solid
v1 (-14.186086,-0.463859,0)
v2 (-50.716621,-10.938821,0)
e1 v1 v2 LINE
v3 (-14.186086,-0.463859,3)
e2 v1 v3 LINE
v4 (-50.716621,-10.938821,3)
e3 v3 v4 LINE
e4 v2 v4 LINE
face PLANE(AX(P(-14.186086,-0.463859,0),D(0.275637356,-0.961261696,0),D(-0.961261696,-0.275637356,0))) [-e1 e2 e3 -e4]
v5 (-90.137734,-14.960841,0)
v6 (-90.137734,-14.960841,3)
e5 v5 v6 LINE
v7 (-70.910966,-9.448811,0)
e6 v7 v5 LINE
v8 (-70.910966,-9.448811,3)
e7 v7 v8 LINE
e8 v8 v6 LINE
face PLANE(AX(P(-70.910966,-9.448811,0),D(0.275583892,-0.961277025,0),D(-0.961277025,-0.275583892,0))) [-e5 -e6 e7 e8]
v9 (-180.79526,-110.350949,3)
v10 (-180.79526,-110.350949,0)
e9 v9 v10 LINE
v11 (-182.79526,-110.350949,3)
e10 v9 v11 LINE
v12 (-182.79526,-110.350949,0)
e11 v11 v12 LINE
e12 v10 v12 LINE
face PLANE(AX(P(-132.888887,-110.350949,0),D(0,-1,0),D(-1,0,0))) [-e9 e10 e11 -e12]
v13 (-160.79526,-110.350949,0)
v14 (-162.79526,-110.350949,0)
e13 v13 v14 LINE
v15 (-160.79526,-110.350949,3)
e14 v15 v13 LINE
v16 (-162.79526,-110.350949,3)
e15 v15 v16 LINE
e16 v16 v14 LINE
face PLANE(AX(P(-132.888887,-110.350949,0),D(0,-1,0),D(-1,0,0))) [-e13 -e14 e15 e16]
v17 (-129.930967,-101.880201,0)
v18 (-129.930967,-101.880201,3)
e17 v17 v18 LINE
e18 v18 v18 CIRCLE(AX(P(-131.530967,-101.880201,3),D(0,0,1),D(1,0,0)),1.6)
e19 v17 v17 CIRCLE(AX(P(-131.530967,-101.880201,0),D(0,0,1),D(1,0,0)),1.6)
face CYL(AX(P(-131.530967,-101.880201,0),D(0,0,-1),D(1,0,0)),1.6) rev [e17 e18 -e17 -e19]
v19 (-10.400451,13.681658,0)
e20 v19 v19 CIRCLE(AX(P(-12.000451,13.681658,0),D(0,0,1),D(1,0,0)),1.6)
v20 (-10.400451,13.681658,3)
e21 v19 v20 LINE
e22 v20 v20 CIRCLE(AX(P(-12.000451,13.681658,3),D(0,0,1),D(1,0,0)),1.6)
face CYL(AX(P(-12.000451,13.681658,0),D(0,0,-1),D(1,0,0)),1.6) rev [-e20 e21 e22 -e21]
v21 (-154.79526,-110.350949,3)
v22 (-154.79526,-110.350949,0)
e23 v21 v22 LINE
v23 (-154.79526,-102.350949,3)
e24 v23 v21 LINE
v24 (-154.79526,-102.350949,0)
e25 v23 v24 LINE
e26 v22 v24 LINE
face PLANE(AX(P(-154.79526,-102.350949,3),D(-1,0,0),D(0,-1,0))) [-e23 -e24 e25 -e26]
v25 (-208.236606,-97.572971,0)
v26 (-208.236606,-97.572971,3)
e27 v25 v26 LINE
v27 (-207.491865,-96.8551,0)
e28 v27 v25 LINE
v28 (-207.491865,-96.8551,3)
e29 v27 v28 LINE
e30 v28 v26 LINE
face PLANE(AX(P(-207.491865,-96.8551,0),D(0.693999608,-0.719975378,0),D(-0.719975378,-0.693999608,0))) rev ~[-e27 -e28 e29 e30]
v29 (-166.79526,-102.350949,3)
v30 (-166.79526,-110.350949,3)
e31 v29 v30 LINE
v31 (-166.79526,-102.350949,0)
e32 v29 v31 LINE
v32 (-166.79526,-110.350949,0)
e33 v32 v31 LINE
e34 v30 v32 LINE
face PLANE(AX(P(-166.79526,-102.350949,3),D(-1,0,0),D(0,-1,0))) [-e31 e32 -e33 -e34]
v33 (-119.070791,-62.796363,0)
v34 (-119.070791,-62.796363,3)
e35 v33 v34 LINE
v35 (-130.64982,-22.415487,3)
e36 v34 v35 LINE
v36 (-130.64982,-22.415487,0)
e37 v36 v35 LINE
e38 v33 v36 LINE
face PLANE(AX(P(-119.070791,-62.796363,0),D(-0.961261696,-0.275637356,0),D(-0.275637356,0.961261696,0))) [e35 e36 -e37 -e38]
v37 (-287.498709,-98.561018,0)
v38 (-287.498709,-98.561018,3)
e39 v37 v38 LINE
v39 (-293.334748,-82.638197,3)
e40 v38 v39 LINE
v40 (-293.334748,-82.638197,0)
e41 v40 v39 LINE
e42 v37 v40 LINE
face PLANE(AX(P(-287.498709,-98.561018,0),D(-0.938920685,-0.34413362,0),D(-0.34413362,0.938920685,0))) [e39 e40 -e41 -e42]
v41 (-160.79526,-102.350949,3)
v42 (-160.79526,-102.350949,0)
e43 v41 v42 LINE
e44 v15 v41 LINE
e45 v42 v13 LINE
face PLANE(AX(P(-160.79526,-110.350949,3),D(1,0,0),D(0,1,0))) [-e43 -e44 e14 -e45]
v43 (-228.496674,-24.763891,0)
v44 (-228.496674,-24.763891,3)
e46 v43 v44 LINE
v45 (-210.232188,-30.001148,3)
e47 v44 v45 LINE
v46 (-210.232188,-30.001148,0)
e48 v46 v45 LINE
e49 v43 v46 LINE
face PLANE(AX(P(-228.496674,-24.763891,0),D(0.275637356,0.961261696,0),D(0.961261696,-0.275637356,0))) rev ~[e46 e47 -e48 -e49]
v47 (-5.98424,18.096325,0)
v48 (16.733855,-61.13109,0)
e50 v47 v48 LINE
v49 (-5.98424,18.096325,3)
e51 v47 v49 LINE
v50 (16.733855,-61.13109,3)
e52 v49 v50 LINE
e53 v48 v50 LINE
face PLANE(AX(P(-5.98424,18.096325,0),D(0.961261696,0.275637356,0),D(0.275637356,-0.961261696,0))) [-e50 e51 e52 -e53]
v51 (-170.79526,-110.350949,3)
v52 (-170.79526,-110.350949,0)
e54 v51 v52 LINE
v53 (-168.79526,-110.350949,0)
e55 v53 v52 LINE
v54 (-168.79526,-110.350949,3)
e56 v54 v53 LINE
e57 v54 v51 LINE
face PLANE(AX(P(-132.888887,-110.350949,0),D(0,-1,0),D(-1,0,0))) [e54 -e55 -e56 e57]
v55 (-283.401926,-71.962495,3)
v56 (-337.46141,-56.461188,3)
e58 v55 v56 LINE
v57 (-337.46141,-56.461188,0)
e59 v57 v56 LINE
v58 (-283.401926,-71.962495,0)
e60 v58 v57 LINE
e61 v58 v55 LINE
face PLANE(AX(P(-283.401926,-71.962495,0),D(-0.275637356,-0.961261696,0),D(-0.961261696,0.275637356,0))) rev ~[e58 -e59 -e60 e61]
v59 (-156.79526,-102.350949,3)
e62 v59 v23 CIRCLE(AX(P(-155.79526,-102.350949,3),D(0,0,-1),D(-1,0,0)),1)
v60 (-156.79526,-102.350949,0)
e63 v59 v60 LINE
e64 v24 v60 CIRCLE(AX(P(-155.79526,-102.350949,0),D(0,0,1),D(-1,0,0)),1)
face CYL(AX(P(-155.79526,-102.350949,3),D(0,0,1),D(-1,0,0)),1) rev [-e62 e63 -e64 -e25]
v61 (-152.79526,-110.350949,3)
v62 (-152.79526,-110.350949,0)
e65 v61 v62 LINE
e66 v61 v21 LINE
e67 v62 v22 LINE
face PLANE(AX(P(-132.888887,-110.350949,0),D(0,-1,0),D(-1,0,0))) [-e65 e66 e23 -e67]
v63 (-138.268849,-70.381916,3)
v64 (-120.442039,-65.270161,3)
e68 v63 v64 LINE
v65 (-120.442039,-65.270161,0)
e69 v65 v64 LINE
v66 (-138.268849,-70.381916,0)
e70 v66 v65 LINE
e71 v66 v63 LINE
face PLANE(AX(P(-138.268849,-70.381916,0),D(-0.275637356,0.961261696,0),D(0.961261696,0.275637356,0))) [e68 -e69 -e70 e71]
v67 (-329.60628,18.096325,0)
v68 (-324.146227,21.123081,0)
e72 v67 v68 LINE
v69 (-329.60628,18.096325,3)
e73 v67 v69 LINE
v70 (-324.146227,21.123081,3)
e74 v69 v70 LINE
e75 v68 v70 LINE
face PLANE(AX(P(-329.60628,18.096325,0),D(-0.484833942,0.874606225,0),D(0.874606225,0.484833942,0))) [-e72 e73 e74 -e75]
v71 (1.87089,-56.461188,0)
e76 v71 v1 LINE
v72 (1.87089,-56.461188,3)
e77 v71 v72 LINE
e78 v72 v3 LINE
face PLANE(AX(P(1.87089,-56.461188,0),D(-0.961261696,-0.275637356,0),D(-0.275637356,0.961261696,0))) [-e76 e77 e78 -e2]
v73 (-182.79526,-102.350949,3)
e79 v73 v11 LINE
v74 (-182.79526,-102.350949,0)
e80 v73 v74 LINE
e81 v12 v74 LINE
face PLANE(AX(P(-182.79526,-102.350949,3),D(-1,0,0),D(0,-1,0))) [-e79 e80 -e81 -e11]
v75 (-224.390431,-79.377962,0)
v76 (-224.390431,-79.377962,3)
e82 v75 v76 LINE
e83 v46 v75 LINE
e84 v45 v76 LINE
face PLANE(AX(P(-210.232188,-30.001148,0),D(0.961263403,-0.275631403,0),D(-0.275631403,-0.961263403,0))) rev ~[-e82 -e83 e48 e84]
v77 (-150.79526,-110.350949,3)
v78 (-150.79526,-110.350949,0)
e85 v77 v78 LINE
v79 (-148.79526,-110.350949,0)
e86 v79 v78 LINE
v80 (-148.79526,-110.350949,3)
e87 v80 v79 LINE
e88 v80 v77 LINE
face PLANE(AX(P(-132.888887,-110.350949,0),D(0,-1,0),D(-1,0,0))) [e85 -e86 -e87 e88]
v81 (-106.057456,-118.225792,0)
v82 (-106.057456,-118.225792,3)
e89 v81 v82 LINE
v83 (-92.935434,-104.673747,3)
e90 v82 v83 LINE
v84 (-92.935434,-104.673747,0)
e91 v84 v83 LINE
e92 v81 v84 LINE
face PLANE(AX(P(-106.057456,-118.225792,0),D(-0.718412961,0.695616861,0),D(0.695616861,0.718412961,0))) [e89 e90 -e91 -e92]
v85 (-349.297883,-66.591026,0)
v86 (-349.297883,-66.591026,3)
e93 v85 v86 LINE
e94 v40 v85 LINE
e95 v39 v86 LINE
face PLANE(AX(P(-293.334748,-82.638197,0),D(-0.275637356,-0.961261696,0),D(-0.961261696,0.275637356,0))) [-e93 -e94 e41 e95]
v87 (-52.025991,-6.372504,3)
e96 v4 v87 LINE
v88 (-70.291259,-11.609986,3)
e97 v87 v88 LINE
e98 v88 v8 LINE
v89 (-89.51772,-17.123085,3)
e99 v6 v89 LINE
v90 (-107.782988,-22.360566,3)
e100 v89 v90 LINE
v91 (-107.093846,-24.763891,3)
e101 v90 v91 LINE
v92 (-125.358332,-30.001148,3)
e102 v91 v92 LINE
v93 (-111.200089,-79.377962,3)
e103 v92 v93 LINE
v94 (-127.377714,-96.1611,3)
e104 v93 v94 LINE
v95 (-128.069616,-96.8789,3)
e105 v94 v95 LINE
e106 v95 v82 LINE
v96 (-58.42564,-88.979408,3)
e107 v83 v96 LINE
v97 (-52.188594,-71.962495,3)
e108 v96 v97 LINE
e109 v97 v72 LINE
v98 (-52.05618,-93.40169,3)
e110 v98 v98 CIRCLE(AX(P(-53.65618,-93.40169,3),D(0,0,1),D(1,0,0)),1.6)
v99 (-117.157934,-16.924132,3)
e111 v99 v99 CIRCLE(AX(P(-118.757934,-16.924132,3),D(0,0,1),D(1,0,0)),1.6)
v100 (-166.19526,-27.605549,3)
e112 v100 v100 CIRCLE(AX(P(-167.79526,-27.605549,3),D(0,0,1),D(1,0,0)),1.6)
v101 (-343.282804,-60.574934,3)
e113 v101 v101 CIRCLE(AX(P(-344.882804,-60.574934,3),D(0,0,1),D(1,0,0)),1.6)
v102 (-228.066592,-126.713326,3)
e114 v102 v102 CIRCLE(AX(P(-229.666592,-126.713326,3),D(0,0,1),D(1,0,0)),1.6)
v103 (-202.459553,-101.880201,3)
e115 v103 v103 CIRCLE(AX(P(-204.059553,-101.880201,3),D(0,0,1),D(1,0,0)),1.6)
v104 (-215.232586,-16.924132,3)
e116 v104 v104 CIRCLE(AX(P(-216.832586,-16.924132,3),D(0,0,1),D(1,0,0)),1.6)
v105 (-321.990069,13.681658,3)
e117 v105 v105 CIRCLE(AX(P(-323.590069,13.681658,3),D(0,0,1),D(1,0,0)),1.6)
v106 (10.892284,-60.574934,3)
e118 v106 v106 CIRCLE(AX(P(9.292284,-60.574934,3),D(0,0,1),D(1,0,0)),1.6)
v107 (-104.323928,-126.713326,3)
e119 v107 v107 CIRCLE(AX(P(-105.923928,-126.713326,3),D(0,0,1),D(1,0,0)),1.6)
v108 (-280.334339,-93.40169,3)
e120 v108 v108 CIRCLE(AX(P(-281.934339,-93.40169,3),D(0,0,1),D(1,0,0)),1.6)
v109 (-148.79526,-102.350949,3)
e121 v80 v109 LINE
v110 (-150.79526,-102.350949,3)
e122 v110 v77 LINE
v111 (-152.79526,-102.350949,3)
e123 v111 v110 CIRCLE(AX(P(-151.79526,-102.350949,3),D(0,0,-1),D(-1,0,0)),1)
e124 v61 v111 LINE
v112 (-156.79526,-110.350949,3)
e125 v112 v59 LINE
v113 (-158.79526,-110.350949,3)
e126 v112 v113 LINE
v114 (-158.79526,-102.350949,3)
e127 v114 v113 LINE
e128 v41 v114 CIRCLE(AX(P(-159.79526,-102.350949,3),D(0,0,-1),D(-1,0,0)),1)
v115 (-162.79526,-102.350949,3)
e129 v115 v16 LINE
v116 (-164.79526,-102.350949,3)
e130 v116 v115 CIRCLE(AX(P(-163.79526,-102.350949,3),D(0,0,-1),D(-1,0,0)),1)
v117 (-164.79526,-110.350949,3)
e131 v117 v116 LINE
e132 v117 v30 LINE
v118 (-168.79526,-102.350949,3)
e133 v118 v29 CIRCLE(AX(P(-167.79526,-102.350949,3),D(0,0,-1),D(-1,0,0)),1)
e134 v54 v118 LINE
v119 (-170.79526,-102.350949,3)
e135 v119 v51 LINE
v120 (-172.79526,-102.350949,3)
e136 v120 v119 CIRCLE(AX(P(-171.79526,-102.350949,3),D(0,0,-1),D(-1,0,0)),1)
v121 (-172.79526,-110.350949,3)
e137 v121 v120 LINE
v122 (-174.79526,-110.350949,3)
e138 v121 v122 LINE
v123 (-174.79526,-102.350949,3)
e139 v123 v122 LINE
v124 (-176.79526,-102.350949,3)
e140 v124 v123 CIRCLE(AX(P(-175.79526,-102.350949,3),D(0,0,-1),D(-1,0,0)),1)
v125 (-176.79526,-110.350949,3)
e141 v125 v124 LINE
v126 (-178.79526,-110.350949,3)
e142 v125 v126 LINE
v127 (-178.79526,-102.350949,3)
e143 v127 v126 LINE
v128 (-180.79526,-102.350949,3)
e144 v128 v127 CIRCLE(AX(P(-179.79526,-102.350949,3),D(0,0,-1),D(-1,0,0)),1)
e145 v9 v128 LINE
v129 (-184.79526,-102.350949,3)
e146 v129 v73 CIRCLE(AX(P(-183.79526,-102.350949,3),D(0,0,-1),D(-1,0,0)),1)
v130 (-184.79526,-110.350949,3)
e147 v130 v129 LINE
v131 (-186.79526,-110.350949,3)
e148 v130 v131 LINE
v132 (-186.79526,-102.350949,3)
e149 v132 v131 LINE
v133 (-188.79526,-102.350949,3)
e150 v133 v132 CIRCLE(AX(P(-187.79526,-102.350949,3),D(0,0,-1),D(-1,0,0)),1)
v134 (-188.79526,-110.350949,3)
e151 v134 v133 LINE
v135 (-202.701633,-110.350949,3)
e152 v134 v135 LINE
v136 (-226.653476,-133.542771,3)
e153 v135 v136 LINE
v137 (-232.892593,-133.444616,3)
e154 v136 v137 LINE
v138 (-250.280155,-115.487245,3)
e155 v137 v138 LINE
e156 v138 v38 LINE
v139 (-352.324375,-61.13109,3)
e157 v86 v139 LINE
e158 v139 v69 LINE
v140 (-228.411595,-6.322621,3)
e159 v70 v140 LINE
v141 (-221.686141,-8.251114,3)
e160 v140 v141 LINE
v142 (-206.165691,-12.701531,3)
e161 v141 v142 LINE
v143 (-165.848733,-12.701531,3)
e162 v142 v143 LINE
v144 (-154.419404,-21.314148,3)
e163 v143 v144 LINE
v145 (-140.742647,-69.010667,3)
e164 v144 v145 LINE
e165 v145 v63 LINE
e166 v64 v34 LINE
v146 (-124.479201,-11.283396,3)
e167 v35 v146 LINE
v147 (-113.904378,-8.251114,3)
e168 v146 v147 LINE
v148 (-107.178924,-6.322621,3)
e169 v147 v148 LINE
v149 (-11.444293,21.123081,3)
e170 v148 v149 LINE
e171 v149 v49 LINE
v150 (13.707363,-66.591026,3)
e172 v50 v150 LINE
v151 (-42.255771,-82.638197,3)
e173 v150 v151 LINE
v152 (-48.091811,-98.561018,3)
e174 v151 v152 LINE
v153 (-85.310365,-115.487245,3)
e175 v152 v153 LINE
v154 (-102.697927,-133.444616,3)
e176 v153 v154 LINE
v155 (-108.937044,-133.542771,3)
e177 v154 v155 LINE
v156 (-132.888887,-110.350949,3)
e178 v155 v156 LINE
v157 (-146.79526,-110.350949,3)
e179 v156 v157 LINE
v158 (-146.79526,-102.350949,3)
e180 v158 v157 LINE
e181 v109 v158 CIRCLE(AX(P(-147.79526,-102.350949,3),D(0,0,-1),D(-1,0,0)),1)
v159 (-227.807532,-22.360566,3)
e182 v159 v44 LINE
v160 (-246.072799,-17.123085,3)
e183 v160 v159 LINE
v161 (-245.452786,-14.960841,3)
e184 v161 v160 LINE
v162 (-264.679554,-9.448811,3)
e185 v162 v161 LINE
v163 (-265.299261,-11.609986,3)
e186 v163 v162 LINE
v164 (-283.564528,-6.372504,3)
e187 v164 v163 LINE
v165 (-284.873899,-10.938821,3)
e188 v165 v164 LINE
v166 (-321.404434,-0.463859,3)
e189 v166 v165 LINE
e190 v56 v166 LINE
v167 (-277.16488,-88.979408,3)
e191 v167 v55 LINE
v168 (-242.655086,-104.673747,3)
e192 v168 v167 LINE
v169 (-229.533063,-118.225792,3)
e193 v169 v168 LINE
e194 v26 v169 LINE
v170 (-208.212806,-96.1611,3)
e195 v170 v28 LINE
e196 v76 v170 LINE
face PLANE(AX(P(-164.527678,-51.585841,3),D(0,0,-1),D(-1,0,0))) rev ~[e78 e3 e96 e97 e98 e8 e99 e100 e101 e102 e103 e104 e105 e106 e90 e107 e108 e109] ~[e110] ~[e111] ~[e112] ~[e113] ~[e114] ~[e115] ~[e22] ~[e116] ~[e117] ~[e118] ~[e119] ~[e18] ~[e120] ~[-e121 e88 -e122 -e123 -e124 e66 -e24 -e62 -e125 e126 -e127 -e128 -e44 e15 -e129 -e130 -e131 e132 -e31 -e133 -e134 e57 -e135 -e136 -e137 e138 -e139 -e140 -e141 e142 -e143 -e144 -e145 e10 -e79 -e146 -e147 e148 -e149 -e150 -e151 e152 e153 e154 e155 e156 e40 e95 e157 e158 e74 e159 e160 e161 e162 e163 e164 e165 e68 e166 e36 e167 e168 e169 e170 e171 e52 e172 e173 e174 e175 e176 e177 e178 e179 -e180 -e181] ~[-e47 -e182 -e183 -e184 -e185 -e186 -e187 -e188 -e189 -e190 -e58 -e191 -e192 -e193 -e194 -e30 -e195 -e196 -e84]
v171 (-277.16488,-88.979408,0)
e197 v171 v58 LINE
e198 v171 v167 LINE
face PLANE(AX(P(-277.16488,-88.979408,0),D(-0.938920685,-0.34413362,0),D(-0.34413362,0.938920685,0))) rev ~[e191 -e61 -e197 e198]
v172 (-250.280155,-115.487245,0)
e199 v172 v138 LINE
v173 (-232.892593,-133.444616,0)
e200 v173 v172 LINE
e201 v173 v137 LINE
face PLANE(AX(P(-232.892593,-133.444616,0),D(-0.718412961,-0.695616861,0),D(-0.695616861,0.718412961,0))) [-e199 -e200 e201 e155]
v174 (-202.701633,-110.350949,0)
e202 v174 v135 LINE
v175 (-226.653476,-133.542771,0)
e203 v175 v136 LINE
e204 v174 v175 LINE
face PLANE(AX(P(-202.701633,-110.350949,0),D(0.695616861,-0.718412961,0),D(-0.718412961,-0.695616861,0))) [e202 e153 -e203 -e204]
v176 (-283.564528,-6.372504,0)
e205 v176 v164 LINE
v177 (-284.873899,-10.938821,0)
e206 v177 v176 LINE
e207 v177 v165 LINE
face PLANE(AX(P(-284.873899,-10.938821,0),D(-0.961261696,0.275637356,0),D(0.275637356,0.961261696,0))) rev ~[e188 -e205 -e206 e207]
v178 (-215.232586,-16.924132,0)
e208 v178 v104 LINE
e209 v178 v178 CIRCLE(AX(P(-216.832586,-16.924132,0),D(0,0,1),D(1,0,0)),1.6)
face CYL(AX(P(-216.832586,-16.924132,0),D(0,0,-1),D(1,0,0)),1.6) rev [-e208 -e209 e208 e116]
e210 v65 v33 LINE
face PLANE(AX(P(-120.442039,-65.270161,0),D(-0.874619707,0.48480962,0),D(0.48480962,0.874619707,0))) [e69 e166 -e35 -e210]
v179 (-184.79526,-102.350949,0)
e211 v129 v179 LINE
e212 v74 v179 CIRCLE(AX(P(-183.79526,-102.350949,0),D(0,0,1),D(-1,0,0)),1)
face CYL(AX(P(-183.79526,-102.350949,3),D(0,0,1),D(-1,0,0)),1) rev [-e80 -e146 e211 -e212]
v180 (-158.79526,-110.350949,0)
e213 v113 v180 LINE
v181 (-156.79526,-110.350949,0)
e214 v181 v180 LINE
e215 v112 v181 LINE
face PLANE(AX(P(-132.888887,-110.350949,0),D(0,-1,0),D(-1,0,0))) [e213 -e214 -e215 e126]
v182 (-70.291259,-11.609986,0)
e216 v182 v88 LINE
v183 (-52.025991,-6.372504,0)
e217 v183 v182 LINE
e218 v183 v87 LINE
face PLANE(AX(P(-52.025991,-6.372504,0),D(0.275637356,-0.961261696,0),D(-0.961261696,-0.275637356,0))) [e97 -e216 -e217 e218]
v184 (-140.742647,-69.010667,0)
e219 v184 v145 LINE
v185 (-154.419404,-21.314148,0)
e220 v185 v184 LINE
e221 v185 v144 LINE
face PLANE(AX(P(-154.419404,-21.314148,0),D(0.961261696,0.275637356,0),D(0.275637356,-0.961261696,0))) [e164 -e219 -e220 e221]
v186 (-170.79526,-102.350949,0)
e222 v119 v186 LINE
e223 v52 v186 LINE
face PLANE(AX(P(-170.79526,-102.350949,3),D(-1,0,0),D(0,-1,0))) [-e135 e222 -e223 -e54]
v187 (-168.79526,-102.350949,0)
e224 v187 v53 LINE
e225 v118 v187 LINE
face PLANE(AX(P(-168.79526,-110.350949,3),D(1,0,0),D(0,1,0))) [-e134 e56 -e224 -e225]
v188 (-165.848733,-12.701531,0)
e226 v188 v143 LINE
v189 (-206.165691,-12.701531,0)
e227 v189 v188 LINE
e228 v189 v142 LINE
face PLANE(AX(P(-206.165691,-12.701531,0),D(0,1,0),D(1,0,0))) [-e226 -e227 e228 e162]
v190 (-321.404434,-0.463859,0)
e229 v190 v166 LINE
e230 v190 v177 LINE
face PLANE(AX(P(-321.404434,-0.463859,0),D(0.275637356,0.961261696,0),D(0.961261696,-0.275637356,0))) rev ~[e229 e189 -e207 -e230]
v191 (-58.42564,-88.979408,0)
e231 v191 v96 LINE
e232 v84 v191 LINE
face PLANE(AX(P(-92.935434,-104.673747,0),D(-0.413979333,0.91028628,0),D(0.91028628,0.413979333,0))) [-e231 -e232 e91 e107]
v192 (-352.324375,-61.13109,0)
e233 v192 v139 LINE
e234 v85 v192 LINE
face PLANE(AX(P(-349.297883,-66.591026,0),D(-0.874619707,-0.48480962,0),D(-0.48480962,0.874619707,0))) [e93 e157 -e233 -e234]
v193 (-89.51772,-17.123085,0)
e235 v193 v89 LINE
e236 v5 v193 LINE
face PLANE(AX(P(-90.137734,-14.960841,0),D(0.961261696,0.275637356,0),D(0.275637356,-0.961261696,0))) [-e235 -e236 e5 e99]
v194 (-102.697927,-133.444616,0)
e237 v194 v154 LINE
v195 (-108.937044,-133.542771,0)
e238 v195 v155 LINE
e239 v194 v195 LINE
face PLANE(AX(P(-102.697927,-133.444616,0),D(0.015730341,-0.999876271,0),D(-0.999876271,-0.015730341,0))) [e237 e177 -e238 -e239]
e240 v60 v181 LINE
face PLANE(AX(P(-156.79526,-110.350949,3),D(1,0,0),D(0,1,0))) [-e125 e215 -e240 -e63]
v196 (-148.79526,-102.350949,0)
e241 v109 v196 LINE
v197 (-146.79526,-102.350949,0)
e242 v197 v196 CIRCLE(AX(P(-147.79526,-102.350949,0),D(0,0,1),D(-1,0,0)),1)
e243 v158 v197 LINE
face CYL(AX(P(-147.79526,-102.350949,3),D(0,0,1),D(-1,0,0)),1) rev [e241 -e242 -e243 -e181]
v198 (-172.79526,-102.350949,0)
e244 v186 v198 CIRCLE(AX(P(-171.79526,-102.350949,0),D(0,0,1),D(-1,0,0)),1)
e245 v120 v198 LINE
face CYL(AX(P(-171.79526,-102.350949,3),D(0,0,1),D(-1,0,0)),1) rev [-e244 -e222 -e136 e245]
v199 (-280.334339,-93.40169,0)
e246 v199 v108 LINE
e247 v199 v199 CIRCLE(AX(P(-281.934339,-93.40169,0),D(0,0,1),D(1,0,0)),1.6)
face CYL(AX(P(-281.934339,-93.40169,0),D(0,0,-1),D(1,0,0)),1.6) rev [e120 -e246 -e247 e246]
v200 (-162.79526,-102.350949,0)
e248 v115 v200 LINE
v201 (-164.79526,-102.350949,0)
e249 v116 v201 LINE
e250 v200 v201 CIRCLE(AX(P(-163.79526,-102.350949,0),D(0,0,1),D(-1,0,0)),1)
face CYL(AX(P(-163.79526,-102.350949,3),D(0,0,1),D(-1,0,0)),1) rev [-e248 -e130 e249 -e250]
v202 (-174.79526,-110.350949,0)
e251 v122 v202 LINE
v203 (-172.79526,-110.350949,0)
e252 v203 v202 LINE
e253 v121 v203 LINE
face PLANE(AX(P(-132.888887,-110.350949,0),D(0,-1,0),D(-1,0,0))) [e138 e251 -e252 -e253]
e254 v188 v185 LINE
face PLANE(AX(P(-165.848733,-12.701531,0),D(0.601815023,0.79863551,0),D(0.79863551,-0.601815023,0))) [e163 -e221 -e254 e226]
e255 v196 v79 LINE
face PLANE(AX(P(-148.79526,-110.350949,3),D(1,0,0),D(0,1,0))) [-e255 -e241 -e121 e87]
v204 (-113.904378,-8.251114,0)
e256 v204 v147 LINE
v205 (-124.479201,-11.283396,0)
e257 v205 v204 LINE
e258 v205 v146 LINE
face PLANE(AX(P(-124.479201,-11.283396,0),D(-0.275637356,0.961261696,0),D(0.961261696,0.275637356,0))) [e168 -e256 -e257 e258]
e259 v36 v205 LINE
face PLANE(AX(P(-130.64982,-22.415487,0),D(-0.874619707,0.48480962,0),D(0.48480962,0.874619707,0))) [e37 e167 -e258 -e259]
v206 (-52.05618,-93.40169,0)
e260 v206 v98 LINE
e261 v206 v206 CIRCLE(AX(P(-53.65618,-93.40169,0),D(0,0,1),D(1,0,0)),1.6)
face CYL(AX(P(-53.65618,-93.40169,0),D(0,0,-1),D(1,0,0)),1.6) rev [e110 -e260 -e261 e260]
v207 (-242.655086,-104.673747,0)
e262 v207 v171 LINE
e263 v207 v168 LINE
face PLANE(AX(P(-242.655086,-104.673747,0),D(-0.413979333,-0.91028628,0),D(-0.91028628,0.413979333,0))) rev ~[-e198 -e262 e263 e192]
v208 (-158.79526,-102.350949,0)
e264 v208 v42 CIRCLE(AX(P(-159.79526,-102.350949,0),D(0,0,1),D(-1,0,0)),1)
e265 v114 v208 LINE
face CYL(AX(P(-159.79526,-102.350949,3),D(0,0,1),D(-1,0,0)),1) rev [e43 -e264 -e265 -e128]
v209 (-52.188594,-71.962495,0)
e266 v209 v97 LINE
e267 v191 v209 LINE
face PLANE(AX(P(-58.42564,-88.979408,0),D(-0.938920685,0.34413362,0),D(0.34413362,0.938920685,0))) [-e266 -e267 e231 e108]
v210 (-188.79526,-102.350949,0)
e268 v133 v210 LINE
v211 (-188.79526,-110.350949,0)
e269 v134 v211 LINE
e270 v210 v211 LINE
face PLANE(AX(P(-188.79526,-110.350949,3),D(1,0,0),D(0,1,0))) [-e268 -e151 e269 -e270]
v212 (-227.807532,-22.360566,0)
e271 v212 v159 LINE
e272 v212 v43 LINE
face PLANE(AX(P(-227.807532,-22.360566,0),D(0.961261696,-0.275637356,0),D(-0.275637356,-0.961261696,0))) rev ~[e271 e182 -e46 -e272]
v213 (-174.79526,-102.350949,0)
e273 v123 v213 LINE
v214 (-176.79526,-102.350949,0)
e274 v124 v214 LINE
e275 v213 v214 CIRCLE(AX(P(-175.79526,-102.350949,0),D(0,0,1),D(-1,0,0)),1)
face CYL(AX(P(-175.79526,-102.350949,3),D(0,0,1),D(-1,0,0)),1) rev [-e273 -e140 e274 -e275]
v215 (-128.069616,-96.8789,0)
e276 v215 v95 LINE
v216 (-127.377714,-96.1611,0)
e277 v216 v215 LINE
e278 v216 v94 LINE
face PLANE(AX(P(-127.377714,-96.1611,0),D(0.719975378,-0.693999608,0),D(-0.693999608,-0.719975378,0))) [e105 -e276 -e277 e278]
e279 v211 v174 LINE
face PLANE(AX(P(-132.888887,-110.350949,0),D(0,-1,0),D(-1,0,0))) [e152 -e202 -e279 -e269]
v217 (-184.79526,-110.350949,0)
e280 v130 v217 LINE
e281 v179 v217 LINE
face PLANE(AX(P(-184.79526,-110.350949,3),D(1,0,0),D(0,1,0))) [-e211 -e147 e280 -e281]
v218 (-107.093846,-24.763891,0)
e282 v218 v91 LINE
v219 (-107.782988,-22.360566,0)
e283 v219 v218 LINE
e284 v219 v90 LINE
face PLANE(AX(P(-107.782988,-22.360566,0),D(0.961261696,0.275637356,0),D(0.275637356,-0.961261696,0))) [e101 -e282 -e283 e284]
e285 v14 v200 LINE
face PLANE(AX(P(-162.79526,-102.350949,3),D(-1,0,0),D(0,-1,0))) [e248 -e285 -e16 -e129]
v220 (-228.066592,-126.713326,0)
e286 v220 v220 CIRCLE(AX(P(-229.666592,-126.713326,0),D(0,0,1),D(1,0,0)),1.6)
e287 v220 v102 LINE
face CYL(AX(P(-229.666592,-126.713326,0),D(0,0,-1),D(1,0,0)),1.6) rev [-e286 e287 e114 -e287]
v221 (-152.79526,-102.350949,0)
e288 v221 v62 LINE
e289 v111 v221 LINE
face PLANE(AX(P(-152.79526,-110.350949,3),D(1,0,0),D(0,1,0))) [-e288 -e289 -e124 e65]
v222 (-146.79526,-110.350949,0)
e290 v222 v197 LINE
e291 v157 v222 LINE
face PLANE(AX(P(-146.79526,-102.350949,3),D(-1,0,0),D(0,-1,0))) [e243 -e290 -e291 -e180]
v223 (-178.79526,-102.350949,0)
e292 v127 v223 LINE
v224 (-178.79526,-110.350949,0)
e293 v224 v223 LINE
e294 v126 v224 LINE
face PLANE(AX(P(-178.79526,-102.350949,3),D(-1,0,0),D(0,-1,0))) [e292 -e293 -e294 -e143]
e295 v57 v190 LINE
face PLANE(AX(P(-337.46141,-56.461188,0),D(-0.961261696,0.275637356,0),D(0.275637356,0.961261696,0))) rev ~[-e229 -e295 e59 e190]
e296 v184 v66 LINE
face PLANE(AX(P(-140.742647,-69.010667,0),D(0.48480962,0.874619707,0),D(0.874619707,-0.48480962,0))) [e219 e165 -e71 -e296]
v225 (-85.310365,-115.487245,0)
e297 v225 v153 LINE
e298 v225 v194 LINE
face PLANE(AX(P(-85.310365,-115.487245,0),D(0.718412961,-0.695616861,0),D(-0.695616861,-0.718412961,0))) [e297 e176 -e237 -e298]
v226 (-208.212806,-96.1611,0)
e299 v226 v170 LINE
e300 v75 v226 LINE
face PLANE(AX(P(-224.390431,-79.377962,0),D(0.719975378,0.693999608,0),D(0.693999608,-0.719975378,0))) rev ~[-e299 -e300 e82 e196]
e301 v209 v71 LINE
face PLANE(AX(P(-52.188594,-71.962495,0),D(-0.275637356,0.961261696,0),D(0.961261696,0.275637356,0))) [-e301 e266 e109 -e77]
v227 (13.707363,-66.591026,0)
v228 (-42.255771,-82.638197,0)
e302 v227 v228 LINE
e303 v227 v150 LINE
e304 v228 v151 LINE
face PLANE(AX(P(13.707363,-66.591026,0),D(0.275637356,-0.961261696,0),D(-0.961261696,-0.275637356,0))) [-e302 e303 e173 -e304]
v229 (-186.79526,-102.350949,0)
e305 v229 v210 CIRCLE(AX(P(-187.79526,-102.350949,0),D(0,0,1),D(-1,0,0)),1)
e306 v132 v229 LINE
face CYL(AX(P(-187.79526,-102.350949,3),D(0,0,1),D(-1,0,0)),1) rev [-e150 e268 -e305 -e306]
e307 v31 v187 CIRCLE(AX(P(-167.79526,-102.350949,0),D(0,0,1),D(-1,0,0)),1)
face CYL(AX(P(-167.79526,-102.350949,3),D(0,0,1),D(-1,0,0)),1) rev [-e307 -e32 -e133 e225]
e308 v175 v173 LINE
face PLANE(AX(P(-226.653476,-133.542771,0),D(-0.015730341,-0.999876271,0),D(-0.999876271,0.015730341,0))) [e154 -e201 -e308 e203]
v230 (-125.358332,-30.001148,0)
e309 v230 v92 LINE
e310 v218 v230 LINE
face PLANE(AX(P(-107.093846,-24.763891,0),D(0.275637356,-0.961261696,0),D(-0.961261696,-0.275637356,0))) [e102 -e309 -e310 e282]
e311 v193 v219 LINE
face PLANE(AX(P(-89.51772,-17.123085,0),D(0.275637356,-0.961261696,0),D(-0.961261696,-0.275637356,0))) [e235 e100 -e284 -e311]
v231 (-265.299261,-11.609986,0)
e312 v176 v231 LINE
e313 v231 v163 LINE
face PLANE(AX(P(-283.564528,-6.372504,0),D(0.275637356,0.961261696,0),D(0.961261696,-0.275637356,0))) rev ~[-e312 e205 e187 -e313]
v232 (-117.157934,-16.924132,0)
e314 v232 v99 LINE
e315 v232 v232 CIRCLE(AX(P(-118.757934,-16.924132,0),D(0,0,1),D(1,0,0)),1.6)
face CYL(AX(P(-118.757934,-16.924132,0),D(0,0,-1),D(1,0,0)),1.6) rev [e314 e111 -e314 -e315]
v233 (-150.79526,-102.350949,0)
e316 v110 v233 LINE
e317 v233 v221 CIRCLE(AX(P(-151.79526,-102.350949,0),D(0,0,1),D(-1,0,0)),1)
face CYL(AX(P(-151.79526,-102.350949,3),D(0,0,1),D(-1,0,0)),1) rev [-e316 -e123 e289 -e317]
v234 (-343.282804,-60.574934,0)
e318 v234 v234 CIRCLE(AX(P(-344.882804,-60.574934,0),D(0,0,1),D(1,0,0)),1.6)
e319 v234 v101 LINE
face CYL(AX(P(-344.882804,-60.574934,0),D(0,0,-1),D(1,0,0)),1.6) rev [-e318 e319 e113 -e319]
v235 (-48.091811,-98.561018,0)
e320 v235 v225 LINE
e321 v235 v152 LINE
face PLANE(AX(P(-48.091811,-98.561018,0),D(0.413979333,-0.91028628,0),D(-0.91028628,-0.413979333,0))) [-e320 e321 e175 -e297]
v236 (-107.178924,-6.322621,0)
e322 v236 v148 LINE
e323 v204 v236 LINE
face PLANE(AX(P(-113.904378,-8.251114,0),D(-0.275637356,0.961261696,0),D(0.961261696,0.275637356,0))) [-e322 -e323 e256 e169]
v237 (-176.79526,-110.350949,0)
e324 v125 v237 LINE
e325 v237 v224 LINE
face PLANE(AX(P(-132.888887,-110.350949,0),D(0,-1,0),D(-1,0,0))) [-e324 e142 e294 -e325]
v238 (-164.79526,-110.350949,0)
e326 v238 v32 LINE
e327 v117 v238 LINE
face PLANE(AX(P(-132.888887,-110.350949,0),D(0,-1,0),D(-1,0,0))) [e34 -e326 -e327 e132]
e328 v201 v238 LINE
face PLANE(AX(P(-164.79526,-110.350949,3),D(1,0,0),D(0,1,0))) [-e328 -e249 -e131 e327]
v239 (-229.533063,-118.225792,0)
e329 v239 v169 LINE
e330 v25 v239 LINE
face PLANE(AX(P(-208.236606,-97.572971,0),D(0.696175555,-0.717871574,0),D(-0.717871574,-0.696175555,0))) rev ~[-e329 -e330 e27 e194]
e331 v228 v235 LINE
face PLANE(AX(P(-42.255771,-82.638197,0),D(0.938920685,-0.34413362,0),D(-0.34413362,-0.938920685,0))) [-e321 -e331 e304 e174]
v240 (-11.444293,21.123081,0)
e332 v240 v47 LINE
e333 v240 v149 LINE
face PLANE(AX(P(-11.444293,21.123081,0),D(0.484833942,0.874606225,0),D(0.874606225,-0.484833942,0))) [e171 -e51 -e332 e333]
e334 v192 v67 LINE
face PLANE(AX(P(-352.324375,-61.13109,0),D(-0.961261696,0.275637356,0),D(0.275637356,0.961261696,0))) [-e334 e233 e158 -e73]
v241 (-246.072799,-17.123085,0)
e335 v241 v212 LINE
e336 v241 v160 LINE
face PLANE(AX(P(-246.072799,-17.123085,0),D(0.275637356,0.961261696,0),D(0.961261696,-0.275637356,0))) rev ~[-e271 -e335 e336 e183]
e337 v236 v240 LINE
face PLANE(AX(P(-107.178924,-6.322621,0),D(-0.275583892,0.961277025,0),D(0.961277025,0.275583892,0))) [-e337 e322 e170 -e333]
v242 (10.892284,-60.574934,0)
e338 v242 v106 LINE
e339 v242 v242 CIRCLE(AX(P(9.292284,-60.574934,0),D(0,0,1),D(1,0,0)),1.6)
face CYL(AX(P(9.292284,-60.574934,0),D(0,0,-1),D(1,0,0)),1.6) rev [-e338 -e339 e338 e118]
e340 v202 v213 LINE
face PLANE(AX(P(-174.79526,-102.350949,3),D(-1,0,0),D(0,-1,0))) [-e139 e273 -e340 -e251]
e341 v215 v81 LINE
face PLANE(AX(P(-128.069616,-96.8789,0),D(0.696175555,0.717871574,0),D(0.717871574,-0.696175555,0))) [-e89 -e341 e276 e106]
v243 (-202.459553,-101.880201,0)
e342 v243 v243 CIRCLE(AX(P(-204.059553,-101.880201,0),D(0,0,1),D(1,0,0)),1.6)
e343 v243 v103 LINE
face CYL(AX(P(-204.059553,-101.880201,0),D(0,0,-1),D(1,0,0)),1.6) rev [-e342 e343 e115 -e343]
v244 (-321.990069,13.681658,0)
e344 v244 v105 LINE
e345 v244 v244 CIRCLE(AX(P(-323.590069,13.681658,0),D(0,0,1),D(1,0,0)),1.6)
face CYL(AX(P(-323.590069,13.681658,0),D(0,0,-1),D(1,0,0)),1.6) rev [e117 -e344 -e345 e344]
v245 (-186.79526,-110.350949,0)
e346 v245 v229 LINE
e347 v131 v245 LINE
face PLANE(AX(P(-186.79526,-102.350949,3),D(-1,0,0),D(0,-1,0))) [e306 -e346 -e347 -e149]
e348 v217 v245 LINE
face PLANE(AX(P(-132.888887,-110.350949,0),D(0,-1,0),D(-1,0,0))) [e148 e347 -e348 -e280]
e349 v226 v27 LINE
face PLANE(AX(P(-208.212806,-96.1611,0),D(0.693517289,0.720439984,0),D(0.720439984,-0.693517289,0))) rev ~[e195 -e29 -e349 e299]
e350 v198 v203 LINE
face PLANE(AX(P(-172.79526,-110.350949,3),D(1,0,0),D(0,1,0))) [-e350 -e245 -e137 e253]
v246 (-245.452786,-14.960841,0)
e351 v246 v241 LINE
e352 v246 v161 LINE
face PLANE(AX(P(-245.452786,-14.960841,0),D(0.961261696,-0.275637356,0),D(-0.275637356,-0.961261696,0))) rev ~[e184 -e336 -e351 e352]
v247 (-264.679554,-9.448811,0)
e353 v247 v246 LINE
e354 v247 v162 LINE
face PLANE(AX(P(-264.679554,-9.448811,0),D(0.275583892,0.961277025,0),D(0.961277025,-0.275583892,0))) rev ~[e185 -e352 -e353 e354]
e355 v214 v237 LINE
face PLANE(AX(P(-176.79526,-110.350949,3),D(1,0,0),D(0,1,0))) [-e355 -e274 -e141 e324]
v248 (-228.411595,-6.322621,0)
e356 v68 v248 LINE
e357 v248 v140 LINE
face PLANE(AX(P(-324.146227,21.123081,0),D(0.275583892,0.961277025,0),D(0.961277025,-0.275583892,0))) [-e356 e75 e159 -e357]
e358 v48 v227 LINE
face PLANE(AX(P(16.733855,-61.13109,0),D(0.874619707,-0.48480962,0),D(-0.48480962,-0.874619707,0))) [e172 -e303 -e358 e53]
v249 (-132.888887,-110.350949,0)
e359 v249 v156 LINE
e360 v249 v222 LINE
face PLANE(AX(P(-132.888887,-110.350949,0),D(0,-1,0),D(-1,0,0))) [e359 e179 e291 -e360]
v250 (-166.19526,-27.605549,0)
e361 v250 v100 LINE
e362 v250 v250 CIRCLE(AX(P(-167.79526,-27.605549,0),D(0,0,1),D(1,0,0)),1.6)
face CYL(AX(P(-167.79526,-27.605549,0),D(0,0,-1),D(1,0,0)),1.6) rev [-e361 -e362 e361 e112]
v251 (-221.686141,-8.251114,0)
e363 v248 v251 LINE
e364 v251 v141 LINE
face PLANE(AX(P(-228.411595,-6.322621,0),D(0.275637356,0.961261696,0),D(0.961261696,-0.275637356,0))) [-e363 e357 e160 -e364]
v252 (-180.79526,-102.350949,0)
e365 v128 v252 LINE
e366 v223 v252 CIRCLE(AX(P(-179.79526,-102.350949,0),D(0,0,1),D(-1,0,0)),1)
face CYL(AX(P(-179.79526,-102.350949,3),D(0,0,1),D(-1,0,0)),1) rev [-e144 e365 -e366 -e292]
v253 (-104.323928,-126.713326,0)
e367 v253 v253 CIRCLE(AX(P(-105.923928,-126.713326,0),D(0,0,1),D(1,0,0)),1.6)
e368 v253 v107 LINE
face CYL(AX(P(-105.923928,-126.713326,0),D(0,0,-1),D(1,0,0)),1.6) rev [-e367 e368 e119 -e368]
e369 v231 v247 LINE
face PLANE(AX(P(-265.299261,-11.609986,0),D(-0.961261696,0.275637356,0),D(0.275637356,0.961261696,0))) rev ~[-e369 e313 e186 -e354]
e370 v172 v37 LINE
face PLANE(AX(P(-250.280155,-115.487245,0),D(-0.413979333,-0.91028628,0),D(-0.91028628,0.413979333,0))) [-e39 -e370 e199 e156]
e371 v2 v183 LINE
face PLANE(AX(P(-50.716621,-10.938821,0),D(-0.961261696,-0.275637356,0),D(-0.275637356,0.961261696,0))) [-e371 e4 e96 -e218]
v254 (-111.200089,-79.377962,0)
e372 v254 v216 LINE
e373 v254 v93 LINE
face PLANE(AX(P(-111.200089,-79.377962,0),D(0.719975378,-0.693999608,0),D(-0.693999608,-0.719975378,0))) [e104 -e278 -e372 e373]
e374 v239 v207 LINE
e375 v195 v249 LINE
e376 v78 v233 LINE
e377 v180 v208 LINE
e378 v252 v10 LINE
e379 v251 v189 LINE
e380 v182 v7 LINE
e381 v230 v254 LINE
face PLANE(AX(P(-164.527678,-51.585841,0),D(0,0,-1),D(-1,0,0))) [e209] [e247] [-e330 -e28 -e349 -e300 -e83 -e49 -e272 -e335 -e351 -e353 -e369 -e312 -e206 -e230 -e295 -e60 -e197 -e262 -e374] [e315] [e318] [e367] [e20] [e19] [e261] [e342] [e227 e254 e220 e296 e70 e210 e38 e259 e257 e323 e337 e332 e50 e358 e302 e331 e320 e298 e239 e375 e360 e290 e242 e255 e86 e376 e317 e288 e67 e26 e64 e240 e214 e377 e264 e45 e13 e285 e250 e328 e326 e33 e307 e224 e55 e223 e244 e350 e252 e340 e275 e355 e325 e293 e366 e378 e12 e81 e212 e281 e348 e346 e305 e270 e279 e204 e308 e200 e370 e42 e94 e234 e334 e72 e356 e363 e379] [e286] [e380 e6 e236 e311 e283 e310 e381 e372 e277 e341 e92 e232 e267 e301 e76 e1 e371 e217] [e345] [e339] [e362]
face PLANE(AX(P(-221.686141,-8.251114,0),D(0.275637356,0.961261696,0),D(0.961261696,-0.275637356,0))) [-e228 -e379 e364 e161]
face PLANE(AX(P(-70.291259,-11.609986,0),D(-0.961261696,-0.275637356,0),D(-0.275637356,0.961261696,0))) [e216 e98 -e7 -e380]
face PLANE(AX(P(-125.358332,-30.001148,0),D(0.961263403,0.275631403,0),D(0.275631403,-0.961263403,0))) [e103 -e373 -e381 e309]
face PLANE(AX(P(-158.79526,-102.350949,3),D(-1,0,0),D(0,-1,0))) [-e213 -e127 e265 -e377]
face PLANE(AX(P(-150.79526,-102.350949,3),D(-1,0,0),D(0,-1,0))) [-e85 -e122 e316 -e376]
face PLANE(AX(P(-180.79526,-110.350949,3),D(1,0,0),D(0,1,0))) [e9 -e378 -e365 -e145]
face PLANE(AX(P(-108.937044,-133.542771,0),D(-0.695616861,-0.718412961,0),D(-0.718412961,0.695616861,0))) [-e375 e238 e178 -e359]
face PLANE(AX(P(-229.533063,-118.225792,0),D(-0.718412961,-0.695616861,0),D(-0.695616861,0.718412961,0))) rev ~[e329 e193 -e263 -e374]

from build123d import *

# Parameters (mm, degrees)
ESQUISSE1_R             = 1.6
BOSS_EXTRU_1_DEPTH      = 3
ENL_V_MAT_EXTRU_1_DEPTH = 10


with BuildPart() as part:
    # Esquisse1 → Boss.-Extru.1 (new body)
    with BuildSketch(Plane.XY):
        Polygon((-119.070790786, -62.796362516), (-130.649820486, -22.415487094), (-124.479201425, -11.283395628), (-113.904378452, -8.251113935), (-107.178924408, -6.322621021), (-11.444293109, 21.123080509), (-5.984240232, 18.096325283), (16.733855492, -61.131089881), (13.707363231, -66.591026451), (-42.255771499, -82.638197107), (-48.091810819, -98.561018129), (-85.310364869, -115.48724507), (-102.69792658, -133.444615579), (-108.937044092, -133.542771169), (-132.888887149, -110.350948678), (-202.701632594, -110.350948678), (-226.653475651, -133.542771169), (-232.892593163, -133.444615579), (-250.280154874, -115.48724507), (-287.498708924, -98.561018129), (-293.334748244, -82.638197107), (-349.297882974, -66.591026451), (-352.324375235, -61.131089881), (-329.606279511, 18.096325283), (-324.146226634, 21.123080509), (-228.411595335, -6.322621021), (-221.686141291, -8.251113935), (-206.165691337, -12.701531345), (-165.848732708, -12.701531345), (-154.419403971, -21.314148304), (-140.742647218, -69.010667349), (-138.268849115, -70.381916029), (-120.442039466, -65.27016062), align=None)
        with Locations((-12.000450916, 13.68165837)):
            Circle(ESQUISSE1_R, mode=Mode.SUBTRACT)
        with Locations((-118.757933777, -16.924131519)):
            Circle(ESQUISSE1_R, mode=Mode.SUBTRACT)
        with Locations((9.292284284, -60.574933915)):
            Circle(ESQUISSE1_R, mode=Mode.SUBTRACT)
        with Locations((-53.656180266, -93.401689518)):
            Circle(ESQUISSE1_R, mode=Mode.SUBTRACT)
        with Locations((-105.923928137, -126.713325795)):
            Circle(ESQUISSE1_R, mode=Mode.SUBTRACT)
        with Locations((-131.530967037, -101.880200807)):
            Circle(ESQUISSE1_R, mode=Mode.SUBTRACT)
        with Locations((-204.059552706, -101.880200807)):
            Circle(ESQUISSE1_R, mode=Mode.SUBTRACT)
        with Locations((-229.666591606, -126.713325795)):
            Circle(ESQUISSE1_R, mode=Mode.SUBTRACT)
        with Locations((-281.934339477, -93.401689518)):
            Circle(ESQUISSE1_R, mode=Mode.SUBTRACT)
        with Locations((-344.882804027, -60.574933915)):
            Circle(ESQUISSE1_R, mode=Mode.SUBTRACT)
        with Locations((-216.832585966, -16.924131519)):
            Circle(ESQUISSE1_R, mode=Mode.SUBTRACT)
        with Locations((-323.590068827, 13.68165837)):
            Circle(ESQUISSE1_R, mode=Mode.SUBTRACT)
        with Locations((-167.795259872, -27.605548894)):
            Circle(ESQUISSE1_R, mode=Mode.SUBTRACT)
        Polygon((-128.0696158, -96.878899722), (-106.057456456, -118.225792128), (-92.935433745, -104.673746846), (-58.425639792, -88.979407851), (-52.188593581, -71.96249534), (1.870889973, -56.461187875), (-14.186085737, -0.463858857), (-50.716621092, -10.938821309), (-52.025991399, -6.372504389), (-70.291259076, -11.609985616), (-70.910965859, -9.448811229), (-90.137733677, -14.960840928), (-89.517720268, -17.123084647), (-107.782987945, -22.360565873), (-107.093845678, -24.763890567), (-125.358331696, -30.001147656), (-111.200088958, -79.377961929), (-127.377713529, -96.161100182), align=None, mode=Mode.SUBTRACT)
        Polygon((-224.390430785, -79.377961929), (-208.212806214, -96.161100182), (-207.491865187, -96.85509979), (-208.236606037, -97.572971364), (-229.533063287, -118.225792128), (-242.655085998, -104.673746846), (-277.164879951, -88.979407851), (-283.401926162, -71.96249534), (-337.461409717, -56.461187875), (-321.404434006, -0.463858857), (-284.873898651, -10.938821309), (-283.564528345, -6.372504389), (-265.299260667, -11.609985616), (-264.679553884, -9.448811229), (-245.452786066, -14.960840928), (-246.072799476, -17.123084647), (-227.807531798, -22.360565873), (-228.496674065, -24.763890567), (-210.232188047, -30.001147656), align=None, mode=Mode.SUBTRACT)
    extrude(amount=BOSS_EXTRU_1_DEPTH)

    # Esquisse2 → Enlèv. mat.-Extru.1 (cut)
    with BuildSketch(Plane.XY.offset(3)):
        with BuildLine():
            Line((-168.795259872, -110.350948678), (-168.795259872, -102.350948678))
            ThreePointArc((-168.795259872, -102.350948678), (-167.795259872, -101.350948678), (-166.795259872, -102.350948678))
            Line((-166.795259872, -102.350948678), (-166.795259872, -110.350948678))
            ThreePointArc((-166.795259872, -110.350948678), (-167.795259872, -111.350948678), (-168.795259872, -110.350948678))
        make_face()
        with BuildLine():
            Line((-164.795259872, -110.350948678), (-164.795259872, -102.350948678))
            ThreePointArc((-164.795259872, -102.350948678), (-163.795259872, -101.350948678), (-162.795259872, -102.350948678))
            Line((-162.795259872, -102.350948678), (-162.795259872, -110.350948678))
            ThreePointArc((-162.795259872, -110.350948678), (-163.795259872, -111.350948678), (-164.795259872, -110.350948678))
        make_face()
        with BuildLine():
            Line((-160.795259872, -110.350948678), (-160.795259872, -102.350948678))
            ThreePointArc((-160.795259872, -102.350948678), (-159.795259872, -101.350948678), (-158.795259872, -102.350948678))
            Line((-158.795259872, -102.350948678), (-158.795259872, -110.350948678))
            ThreePointArc((-158.795259872, -110.350948678), (-159.795259872, -111.350948678), (-160.795259872, -110.350948678))
        make_face()
        with BuildLine():
            Line((-156.795259872, -110.350948678), (-156.795259872, -102.350948678))
            ThreePointArc((-156.795259872, -102.350948678), (-155.795259872, -101.350948678), (-154.795259872, -102.350948678))
            Line((-154.795259872, -102.350948678), (-154.795259872, -110.350948678))
            ThreePointArc((-154.795259872, -110.350948678), (-155.795259872, -111.350948678), (-156.795259872, -110.350948678))
        make_face()
        with BuildLine():
            Line((-152.795259872, -110.350948678), (-152.795259872, -102.350948678))
            ThreePointArc((-152.795259872, -102.350948678), (-151.795259872, -101.350948678), (-150.795259872, -102.350948678))
            Line((-150.795259872, -102.350948678), (-150.795259872, -110.350948678))
            ThreePointArc((-150.795259872, -110.350948678), (-151.795259872, -111.350948678), (-152.795259872, -110.350948678))
        make_face()
        with BuildLine():
            Line((-148.795259872, -110.350948678), (-148.795259872, -102.350948678))
            ThreePointArc((-148.795259872, -102.350948678), (-147.795259872, -101.350948678), (-146.795259872, -102.350948678))
            Line((-146.795259872, -102.350948678), (-146.795259872, -110.350948678))
            ThreePointArc((-146.795259872, -110.350948678), (-147.795259872, -111.350948678), (-148.795259872, -110.350948678))
        make_face()
        with BuildLine():
            Line((-172.795259872, -110.350948678), (-172.795259872, -102.350948678))
            ThreePointArc((-172.795259872, -102.350948678), (-171.795259872, -101.350948678), (-170.795259872, -102.350948678))
            Line((-170.795259872, -102.350948678), (-170.795259872, -110.350948678))
            ThreePointArc((-170.795259872, -110.350948678), (-171.795259872, -111.350948678), (-172.795259872, -110.350948678))
        make_face()
        with BuildLine():
            Line((-176.795259872, -110.350948678), (-176.795259872, -102.350948678))
            ThreePointArc((-176.795259872, -102.350948678), (-175.795259872, -101.350948678), (-174.795259872, -102.350948678))
            Line((-174.795259872, -102.350948678), (-174.795259872, -110.350948678))
            ThreePointArc((-174.795259872, -110.350948678), (-175.795259872, -111.350948678), (-176.795259872, -110.350948678))
        make_face()
        with BuildLine():
            Line((-180.795259872, -110.350948678), (-180.795259872, -102.350948678))
            ThreePointArc((-180.795259872, -102.350948678), (-179.795259872, -101.350948678), (-178.795259872, -102.350948678))
            Line((-178.795259872, -102.350948678), (-178.795259872, -110.350948678))
            ThreePointArc((-178.795259872, -110.350948678), (-179.795259872, -111.350948678), (-180.795259872, -110.350948678))
        make_face()
        with BuildLine():
            Line((-184.795259872, -110.350948678), (-184.795259872, -102.350948678))
            ThreePointArc((-184.795259872, -102.350948678), (-183.795259872, -101.350948678), (-182.795259872, -102.350948678))
            Line((-182.795259872, -102.350948678), (-182.795259872, -110.350948678))
            ThreePointArc((-182.795259872, -110.350948678), (-183.795259872, -111.350948678), (-184.795259872, -110.350948678))
        make_face()
        with BuildLine():
            Line((-188.795259872, -110.350948678), (-188.795259872, -102.350948678))
            ThreePointArc((-188.795259872, -102.350948678), (-187.795259872, -101.350948678), (-186.795259872, -102.350948678))
            Line((-186.795259872, -102.350948678), (-186.795259872, -110.350948678))
            ThreePointArc((-186.795259872, -110.350948678), (-187.795259872, -111.350948678), (-188.795259872, -110.350948678))
        make_face()
    extrude(amount=-ENL_V_MAT_EXTRU_1_DEPTH, mode=Mode.SUBTRACT)


solid = part.part
